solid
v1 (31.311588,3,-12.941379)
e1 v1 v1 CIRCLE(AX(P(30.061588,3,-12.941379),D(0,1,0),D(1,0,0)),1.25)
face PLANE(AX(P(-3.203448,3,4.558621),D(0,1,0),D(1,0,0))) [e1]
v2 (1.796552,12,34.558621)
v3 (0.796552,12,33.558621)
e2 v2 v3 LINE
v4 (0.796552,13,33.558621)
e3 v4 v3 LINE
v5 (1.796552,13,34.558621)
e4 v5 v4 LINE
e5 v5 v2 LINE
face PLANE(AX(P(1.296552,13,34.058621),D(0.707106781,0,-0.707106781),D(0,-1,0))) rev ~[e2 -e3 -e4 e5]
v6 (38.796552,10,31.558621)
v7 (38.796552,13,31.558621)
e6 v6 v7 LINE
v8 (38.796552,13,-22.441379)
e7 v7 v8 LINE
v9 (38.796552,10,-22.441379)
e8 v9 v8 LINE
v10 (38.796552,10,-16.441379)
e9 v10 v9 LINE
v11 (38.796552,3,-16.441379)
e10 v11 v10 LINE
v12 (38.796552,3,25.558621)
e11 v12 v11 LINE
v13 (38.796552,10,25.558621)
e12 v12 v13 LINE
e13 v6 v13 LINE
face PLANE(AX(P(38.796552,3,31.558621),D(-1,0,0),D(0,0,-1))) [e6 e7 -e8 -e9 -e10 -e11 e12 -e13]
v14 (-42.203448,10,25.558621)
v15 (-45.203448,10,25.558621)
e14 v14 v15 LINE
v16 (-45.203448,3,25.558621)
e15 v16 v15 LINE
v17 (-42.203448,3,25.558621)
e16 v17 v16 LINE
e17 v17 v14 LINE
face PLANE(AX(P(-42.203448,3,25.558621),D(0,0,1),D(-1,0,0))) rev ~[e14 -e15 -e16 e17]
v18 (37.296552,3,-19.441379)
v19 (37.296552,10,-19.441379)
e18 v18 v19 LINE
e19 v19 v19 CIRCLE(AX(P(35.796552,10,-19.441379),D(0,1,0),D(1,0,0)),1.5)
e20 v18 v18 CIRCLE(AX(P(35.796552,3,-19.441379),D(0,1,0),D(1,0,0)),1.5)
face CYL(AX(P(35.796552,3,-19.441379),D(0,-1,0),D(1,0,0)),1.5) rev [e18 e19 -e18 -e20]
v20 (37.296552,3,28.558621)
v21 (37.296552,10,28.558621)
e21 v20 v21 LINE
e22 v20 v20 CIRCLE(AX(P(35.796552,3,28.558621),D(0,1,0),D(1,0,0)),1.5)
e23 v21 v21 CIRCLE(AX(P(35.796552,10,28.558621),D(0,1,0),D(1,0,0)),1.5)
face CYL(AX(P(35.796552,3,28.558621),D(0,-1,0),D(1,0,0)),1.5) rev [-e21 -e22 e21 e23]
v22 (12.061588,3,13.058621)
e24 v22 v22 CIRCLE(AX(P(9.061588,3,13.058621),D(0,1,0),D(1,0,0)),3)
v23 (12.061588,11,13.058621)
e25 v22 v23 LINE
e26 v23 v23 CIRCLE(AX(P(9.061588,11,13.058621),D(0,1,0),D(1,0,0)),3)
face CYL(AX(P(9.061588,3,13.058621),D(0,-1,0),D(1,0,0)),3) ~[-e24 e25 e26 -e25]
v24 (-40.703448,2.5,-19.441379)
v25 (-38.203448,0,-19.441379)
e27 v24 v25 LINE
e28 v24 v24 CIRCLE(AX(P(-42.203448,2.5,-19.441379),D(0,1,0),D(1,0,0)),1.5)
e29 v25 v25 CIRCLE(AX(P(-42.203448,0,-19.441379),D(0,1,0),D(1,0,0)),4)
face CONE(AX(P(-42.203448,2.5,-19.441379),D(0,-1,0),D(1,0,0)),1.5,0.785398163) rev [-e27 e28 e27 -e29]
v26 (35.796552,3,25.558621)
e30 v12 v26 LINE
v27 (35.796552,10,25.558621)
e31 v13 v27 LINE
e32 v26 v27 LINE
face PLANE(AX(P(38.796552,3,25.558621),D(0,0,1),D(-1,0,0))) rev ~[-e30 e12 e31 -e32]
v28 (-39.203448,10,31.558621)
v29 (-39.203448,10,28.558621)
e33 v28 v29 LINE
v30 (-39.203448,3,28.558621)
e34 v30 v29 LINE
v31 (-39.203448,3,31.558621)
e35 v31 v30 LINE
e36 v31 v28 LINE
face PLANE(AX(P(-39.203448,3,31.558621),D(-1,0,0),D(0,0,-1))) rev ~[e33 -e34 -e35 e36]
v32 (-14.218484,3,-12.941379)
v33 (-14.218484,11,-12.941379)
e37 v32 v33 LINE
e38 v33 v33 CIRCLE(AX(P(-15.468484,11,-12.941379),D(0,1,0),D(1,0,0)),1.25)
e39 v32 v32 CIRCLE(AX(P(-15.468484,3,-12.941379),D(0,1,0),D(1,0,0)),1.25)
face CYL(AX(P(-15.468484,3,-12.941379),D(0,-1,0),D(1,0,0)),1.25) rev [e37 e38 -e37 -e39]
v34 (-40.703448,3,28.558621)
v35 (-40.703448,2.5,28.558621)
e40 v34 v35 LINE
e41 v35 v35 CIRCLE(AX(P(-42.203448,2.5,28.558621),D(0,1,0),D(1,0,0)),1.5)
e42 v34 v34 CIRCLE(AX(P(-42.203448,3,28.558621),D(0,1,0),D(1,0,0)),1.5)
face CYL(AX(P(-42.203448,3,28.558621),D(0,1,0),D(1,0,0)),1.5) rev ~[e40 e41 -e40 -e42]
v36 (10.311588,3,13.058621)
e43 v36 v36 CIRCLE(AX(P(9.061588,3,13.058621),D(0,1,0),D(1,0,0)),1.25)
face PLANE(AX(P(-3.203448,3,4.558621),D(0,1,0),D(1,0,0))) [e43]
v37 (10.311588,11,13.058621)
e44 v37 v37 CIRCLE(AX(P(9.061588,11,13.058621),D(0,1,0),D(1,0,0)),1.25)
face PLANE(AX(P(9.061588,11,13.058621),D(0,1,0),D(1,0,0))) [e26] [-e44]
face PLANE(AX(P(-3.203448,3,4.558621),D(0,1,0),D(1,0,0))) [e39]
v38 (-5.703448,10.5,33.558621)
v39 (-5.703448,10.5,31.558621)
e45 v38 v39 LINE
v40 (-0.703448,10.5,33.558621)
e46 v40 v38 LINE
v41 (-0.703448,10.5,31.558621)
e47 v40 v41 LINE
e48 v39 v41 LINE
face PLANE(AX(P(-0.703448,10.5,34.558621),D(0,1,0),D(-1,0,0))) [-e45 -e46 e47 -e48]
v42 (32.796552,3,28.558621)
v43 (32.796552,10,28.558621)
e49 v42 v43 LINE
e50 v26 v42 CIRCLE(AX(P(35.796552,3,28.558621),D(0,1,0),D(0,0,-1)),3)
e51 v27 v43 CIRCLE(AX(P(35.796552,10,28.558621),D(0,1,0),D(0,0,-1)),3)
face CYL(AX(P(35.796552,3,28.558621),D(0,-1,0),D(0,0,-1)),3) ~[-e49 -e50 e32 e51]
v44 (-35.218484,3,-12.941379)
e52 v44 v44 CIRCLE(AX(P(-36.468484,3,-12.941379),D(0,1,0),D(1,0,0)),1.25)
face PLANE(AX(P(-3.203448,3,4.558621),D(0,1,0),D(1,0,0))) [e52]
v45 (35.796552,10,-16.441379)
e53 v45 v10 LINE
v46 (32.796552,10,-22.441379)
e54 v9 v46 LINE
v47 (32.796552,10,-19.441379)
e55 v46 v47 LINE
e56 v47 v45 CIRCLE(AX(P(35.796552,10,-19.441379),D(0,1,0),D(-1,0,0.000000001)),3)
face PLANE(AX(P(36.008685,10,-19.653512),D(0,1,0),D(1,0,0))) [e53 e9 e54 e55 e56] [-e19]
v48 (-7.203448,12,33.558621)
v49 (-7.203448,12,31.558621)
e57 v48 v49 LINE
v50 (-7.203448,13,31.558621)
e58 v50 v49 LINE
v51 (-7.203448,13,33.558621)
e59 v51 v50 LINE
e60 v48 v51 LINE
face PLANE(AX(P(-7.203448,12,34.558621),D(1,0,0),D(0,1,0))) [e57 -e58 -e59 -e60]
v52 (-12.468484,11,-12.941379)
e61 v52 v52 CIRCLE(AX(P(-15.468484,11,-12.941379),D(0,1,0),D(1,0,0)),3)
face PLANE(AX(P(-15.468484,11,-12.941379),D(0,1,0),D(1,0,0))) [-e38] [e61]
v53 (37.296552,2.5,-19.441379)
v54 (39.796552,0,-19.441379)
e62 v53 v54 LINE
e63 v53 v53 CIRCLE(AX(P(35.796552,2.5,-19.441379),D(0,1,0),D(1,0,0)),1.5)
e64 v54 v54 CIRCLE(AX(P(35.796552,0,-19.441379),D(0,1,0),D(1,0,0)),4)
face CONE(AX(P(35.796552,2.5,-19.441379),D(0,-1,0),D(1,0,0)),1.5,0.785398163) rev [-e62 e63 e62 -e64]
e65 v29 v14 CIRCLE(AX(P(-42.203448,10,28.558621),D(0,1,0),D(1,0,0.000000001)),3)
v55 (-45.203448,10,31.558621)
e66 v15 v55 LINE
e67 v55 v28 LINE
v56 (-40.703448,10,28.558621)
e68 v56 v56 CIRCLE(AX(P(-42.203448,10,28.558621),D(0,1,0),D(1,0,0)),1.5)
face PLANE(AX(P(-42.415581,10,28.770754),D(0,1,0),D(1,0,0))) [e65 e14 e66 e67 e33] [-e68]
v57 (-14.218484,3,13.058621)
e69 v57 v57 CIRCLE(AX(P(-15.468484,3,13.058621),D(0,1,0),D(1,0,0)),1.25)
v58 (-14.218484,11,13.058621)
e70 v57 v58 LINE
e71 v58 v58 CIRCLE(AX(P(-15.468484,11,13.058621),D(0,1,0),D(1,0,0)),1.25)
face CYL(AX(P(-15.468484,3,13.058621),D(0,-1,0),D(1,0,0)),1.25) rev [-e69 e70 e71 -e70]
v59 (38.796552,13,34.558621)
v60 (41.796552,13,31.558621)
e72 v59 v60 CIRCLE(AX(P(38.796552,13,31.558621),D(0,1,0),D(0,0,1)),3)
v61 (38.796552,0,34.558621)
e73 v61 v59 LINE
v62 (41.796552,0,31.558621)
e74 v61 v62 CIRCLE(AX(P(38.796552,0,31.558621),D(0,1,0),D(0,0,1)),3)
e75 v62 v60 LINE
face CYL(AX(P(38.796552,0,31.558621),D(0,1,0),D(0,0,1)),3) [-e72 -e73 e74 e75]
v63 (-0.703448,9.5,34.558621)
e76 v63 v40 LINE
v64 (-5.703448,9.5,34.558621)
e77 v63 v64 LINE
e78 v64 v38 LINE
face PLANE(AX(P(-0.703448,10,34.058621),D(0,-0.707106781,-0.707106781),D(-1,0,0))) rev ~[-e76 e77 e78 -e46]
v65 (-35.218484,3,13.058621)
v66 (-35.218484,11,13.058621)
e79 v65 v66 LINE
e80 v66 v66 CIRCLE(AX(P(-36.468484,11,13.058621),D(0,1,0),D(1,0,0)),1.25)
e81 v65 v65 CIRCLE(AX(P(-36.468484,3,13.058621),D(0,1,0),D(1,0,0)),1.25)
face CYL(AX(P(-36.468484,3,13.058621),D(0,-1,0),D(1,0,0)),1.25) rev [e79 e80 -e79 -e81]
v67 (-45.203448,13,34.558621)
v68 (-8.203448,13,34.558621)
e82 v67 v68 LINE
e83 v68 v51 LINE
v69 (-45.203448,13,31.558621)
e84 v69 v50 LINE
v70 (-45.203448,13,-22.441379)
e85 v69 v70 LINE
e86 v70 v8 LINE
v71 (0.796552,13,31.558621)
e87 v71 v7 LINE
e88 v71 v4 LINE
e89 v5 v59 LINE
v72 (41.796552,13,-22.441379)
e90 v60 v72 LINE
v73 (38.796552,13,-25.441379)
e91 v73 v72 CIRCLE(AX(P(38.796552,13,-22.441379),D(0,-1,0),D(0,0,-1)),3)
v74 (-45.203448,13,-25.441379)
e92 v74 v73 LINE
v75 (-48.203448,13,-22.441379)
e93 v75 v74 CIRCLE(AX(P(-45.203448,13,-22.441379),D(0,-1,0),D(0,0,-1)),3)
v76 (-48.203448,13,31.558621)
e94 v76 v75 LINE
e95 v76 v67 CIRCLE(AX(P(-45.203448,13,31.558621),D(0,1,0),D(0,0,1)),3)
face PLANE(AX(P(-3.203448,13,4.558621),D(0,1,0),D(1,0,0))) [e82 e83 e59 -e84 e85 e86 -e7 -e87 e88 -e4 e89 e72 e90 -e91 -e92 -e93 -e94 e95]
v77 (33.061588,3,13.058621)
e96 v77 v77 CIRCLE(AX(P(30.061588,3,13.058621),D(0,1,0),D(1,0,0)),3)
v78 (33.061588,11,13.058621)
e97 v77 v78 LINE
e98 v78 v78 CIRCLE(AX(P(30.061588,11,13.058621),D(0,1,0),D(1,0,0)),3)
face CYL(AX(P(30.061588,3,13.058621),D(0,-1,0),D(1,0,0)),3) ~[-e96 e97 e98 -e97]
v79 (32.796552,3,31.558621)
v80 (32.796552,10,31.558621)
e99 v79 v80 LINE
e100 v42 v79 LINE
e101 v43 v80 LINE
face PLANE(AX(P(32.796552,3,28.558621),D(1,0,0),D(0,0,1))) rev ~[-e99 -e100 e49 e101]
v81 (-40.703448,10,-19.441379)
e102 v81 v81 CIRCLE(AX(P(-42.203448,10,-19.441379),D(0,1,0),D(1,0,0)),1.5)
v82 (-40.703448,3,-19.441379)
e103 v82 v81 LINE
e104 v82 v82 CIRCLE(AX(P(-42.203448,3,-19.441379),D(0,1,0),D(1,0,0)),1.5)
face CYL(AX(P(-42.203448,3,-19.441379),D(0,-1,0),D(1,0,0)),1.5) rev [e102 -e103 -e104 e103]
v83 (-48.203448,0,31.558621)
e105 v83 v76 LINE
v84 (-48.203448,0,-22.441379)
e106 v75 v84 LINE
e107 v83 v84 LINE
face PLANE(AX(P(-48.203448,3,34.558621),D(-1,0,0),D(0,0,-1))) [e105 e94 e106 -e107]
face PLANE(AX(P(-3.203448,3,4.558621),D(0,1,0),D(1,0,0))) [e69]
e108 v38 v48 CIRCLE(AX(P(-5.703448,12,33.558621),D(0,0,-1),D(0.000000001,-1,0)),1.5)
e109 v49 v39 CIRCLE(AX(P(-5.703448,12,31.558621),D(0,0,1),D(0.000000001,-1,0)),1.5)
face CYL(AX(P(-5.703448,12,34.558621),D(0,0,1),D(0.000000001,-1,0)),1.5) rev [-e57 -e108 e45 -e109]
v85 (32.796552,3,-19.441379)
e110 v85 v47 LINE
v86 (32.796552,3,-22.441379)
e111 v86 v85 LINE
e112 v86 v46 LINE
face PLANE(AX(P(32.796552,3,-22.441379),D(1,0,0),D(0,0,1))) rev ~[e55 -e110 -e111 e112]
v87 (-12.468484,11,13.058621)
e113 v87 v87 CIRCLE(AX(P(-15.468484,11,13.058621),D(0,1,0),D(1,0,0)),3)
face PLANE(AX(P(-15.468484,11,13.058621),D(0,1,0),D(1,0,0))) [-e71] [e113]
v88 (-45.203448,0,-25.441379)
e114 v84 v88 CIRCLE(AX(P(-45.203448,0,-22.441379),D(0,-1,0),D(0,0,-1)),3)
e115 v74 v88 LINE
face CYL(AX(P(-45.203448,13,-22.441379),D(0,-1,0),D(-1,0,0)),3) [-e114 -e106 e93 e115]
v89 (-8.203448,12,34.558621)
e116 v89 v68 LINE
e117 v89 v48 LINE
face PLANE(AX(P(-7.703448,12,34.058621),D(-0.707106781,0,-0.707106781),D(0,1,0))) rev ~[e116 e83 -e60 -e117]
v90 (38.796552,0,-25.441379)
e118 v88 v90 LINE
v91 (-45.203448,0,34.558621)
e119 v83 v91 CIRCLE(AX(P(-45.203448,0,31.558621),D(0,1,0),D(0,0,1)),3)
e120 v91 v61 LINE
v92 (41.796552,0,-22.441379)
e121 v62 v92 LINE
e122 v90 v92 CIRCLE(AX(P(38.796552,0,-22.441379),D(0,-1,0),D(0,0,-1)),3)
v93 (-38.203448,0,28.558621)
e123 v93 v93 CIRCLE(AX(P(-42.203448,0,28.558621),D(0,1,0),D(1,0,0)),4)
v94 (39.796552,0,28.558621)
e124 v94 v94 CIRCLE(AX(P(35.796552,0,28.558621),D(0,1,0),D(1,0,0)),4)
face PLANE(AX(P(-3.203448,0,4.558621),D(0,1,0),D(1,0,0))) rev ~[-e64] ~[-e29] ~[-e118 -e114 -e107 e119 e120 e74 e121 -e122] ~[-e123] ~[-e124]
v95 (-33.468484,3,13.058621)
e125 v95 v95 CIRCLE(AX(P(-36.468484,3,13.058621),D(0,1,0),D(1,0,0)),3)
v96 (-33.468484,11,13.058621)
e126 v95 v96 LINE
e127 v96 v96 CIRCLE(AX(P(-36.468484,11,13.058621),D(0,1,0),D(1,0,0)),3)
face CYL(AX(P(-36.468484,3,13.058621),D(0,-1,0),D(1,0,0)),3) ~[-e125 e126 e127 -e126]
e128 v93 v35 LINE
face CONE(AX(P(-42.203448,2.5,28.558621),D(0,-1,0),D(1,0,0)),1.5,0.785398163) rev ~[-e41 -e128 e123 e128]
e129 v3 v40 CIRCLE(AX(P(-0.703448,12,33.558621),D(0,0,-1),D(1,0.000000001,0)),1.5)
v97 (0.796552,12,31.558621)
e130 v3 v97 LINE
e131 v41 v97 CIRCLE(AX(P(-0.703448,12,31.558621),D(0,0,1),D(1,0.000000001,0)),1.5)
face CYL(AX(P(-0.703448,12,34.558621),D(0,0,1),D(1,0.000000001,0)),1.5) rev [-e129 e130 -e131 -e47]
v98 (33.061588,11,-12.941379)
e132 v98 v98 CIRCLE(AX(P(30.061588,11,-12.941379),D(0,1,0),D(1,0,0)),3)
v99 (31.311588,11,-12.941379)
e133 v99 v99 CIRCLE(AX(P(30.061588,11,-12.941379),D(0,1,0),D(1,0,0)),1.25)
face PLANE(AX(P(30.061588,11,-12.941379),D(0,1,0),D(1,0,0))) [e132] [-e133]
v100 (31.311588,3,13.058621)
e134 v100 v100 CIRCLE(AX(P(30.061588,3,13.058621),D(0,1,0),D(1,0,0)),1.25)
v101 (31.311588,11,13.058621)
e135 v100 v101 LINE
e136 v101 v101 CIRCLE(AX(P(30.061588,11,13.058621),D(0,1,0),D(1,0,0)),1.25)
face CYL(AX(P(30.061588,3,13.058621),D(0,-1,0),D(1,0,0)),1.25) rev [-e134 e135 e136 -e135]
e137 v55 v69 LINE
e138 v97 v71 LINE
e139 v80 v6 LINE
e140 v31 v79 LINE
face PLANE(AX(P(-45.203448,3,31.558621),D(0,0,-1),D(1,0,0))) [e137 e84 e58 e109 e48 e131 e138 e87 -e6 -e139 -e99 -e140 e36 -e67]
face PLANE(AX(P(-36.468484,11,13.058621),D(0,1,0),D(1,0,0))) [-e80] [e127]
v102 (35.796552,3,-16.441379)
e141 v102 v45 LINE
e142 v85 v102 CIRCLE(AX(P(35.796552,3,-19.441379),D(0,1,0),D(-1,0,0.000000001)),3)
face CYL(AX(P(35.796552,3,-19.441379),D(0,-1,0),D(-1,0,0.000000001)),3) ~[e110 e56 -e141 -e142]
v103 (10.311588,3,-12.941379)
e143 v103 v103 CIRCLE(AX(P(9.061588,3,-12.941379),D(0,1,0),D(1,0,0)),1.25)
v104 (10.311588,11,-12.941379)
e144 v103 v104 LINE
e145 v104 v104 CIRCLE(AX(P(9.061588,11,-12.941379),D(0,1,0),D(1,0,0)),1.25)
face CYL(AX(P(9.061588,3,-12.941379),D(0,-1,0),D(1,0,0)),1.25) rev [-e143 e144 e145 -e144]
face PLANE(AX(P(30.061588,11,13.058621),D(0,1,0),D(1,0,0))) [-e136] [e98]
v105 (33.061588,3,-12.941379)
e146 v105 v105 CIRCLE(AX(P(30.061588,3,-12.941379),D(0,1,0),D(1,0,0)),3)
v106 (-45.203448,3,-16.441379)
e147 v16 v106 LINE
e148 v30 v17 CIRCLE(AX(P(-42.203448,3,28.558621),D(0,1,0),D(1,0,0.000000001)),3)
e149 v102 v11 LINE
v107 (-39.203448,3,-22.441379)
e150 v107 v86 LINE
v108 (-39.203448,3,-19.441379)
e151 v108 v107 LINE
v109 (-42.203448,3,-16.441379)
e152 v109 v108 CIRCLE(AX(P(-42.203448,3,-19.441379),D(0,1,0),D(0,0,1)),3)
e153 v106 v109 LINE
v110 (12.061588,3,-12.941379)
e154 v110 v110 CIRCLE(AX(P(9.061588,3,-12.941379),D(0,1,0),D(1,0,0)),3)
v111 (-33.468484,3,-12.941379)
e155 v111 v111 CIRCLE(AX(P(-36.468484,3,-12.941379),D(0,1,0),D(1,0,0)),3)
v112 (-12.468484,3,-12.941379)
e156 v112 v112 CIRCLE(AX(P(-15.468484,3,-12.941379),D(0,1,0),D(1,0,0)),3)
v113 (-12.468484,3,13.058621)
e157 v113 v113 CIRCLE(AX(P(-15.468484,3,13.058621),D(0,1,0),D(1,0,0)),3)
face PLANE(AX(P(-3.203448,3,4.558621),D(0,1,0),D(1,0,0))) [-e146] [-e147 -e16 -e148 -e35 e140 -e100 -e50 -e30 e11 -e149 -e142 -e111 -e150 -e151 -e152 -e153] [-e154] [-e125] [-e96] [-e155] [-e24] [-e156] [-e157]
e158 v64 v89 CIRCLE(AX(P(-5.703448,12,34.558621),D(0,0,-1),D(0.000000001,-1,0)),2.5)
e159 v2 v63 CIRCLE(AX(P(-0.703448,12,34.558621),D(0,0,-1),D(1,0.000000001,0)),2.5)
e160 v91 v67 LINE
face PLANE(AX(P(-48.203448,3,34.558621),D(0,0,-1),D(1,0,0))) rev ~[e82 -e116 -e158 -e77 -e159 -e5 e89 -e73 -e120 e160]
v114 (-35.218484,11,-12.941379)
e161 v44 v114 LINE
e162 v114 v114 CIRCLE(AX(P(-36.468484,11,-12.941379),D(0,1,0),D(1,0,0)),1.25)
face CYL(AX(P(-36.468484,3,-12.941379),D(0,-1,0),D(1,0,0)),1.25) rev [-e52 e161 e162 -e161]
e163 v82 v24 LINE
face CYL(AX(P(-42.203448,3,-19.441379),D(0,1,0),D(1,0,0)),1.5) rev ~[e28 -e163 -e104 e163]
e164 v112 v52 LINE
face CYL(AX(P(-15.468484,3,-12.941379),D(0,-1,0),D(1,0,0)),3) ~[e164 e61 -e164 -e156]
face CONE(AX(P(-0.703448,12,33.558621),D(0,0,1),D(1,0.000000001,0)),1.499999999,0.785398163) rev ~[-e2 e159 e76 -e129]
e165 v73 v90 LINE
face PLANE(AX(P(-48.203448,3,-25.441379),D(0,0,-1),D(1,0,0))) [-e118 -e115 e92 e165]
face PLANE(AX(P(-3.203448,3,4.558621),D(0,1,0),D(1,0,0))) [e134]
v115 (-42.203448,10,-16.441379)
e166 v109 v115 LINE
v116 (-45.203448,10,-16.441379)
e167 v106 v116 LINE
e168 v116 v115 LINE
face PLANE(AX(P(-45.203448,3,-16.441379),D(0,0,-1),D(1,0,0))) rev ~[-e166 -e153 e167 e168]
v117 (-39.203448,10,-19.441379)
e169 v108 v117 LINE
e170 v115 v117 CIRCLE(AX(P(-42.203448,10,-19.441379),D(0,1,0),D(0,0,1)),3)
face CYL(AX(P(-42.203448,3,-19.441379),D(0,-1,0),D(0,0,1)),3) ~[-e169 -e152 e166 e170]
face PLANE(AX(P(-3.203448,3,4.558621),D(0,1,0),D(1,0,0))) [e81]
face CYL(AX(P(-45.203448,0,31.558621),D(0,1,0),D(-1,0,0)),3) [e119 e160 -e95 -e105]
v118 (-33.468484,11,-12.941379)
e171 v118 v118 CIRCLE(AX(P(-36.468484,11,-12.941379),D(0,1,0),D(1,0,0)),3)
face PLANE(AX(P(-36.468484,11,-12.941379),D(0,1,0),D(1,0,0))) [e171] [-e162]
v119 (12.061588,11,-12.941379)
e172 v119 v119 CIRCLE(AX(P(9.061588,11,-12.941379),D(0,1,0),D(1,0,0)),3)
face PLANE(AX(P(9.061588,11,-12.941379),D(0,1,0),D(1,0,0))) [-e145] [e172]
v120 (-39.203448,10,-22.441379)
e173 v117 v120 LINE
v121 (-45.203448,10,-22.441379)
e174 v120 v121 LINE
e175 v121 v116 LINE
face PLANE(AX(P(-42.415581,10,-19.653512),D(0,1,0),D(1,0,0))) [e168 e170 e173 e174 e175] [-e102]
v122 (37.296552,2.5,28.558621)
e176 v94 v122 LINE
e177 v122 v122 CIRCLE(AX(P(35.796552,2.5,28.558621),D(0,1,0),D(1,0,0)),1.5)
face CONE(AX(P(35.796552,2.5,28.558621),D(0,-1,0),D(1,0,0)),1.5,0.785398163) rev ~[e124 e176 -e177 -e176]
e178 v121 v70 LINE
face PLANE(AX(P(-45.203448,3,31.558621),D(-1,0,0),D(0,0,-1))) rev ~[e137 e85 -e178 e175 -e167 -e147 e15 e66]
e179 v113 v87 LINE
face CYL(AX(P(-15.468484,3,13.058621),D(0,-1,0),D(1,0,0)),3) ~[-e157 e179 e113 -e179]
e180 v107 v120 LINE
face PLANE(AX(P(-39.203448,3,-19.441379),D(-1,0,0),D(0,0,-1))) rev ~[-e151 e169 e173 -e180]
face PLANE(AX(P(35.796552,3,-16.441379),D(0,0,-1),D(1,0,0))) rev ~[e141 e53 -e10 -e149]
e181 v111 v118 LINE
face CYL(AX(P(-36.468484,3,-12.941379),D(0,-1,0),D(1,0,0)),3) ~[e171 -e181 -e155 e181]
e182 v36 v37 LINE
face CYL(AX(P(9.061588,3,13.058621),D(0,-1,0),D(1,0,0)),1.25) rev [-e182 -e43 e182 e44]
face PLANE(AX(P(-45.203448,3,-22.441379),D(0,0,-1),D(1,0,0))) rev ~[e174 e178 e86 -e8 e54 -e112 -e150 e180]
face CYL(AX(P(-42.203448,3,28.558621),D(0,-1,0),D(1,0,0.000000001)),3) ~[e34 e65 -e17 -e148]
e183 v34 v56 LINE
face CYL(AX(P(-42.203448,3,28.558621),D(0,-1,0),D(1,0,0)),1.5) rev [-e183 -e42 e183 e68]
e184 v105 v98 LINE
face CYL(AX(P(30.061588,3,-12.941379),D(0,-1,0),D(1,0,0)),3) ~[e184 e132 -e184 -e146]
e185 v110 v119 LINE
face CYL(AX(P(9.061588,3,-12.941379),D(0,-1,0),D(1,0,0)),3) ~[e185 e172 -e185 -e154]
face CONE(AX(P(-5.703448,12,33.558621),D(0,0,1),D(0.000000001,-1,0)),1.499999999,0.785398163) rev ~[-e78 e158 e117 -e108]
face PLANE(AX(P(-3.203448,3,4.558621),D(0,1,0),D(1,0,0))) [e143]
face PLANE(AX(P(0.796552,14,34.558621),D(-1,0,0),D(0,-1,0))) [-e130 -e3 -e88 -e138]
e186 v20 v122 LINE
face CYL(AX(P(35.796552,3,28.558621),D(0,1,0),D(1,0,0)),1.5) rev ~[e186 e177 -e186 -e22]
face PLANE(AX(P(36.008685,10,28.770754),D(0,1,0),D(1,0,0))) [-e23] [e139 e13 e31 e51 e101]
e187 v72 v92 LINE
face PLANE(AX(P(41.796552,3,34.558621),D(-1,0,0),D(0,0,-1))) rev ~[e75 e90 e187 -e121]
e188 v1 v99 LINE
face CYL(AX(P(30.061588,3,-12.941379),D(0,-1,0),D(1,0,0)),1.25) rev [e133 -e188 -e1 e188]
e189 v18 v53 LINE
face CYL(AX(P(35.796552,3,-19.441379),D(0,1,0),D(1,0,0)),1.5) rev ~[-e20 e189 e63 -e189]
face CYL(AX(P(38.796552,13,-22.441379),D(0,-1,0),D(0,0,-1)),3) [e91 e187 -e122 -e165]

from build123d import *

# Parameters (mm, degrees)
SKETCH_2_W               = 90
SKETCH_2_H               = 60
EXTRUDE_1_DEPTH          = 3
SKETCH_4_R               = 3
SKETCH_4_R_2             = 1.25
EXTRUDE_2_DEPTH          = 8
SKETCH_5_W               = 90
SKETCH_5_H               = 60
SKETCH_5_W_2             = 84
SKETCH_5_H_2             = 54
EXTRUDE_3_DEPTH          = 10
SKETCH_7_R               = 1.5
EXTRUDE_4_DEPTH          = 7
SKETCH_8_R               = 1.5
CUT_EXTRUDE_1_DEPTH      = 7
CUT_EXTRUDE_1_DEPTH_BACK = 7
CHAMFER_1_SIZE           = 2.5
FILLET_1_R               = 3
CUT_EXTRUDE_2_DEPTH      = 9
CHAMFER_2_SIZE           = 1


with BuildPart() as part:
    # Эскиз2 → Бобышка-Вытянуть1 (new body)
    with BuildSketch(Plane(origin=(0, 0, 0), x_dir=(1, 0, 0), z_dir=(0, 1, 0))):
        with Locations((-3.203448276, -4.55862069)):
            Rectangle(SKETCH_2_W, SKETCH_2_H)
    extrude(amount=EXTRUDE_1_DEPTH)

    # Эскиз4 → Бобышка-Вытянуть2 (add)
    with BuildSketch(Plane(origin=(0, 3, 0), x_dir=(1, 0, 0), z_dir=(0, 1, 0))):
        with Locations((-36.468484305, 12.94137931)):
            Circle(SKETCH_4_R)
        with Locations((-36.468484305, 12.94137931)):
            Circle(SKETCH_4_R_2, mode=Mode.SUBTRACT)
        with Locations((-15.468484305, 12.94137931)):
            Circle(SKETCH_4_R)
        with Locations((-15.468484305, 12.94137931)):
            Circle(SKETCH_4_R_2, mode=Mode.SUBTRACT)
        with Locations((-15.468484305, -13.05862069)):
            Circle(SKETCH_4_R)
        with Locations((-15.468484305, -13.05862069)):
            Circle(SKETCH_4_R_2, mode=Mode.SUBTRACT)
        with Locations((-36.468484305, -13.05862069)):
            Circle(SKETCH_4_R)
        with Locations((-36.468484305, -13.05862069)):
            Circle(SKETCH_4_R_2, mode=Mode.SUBTRACT)
        with Locations((9.061587753, -13.05862069)):
            Circle(SKETCH_4_R)
        with Locations((9.061587753, -13.05862069)):
            Circle(SKETCH_4_R_2, mode=Mode.SUBTRACT)
        with Locations((30.061587753, -13.05862069)):
            Circle(SKETCH_4_R)
        with Locations((30.061587753, -13.05862069)):
            Circle(SKETCH_4_R_2, mode=Mode.SUBTRACT)
        with Locations((9.061587753, 12.94137931)):
            Circle(SKETCH_4_R)
        with Locations((9.061587753, 12.94137931)):
            Circle(SKETCH_4_R_2, mode=Mode.SUBTRACT)
        with Locations((30.061587753, 12.94137931)):
            Circle(SKETCH_4_R)
        with Locations((30.061587753, 12.94137931)):
            Circle(SKETCH_4_R_2, mode=Mode.SUBTRACT)
    extrude(amount=EXTRUDE_2_DEPTH)

    # Эскиз5 → Бобышка-Вытянуть3 (add)
    with BuildSketch(Plane(origin=(0, 3, 0), x_dir=(1, 0, 0), z_dir=(0, 1, 0))):
        with Locations((-3.203448276, -4.55862069)):
            Rectangle(SKETCH_5_W, SKETCH_5_H)
        with Locations((-3.203448276, -4.55862069)):
            Rectangle(SKETCH_5_W_2, SKETCH_5_H_2, mode=Mode.SUBTRACT)
    extrude(amount=EXTRUDE_3_DEPTH)

    # Эскиз7 → Бобышка-Вытянуть4 (add)
    with BuildSketch(Plane(origin=(0, 3, 0), x_dir=(1, 0, 0), z_dir=(0, 1, 0))):
        with BuildLine():
            Line((-39.203448276, 19.44137931), (-39.203448276, 22.44137931))
            Line((-39.203448276, 22.44137931), (-45.203448276, 22.44137931))
            Line((-45.203448276, 22.44137931), (-45.203448276, 16.44137931))
            Line((-45.203448276, 16.44137931), (-42.203448276, 16.44137931))
            ThreePointArc((-42.203448276, 16.44137931), (-40.082127932, 17.320058967), (-39.203448276, 19.44137931))
        make_face()
        with Locations((-42.203448276, 19.44137931)):
            Circle(SKETCH_7_R, mode=Mode.SUBTRACT)
        with BuildLine():
            Line((38.796551724, 22.44137931), (32.796551724, 22.44137931))
            Line((32.796551724, 22.44137931), (32.796551724, 19.44137931))
            ThreePointArc((32.796551724, 19.44137931), (33.675231381, 17.320058967), (35.796551724, 16.44137931))
            Line((35.796551724, 16.44137931), (38.796551724, 16.44137931))
            Line((38.796551724, 16.44137931), (38.796551724, 22.44137931))
        make_face()
        with Locations((35.796551724, 19.44137931)):
            Circle(SKETCH_7_R, mode=Mode.SUBTRACT)
        with BuildLine():
            Line((32.796551724, -28.55862069), (32.796551724, -31.55862069))
            Line((32.796551724, -31.55862069), (38.796551724, -31.55862069))
            Line((38.796551724, -31.55862069), (38.796551724, -25.55862069))
            Line((38.796551724, -25.55862069), (35.796551724, -25.55862069))
            ThreePointArc((35.796551724, -25.55862069), (33.675231381, -26.437300346), (32.796551724, -28.55862069))
        make_face()
        with Locations((35.796551724, -28.55862069)):
            Circle(SKETCH_7_R, mode=Mode.SUBTRACT)
        with BuildLine():
            Line((-45.203448276, -31.55862069), (-39.203448276, -31.55862069))
            Line((-39.203448276, -31.55862069), (-39.203448276, -28.55862069))
            ThreePointArc((-39.203448276, -28.55862069), (-40.082127932, -26.437300346), (-42.203448276, -25.55862069))
            Line((-42.203448276, -25.55862069), (-45.203448276, -25.55862069))
            Line((-45.203448276, -25.55862069), (-45.203448276, -31.55862069))
        make_face()
        with Locations((-42.203448276, -28.55862069)):
            Circle(SKETCH_7_R, mode=Mode.SUBTRACT)
    extrude(amount=EXTRUDE_4_DEPTH)

    # Эскиз8 → Вырез-Вытянуть1 (cut, two sides)
    with BuildSketch(Plane(origin=(0, 3, 0), x_dir=(1, 0, 0), z_dir=(0, 1, 0))) as cut_extrude_1_sk:
        with Locations((-42.203448276, 19.44137931)):
            Circle(SKETCH_8_R)
        with Locations((35.796551724, 19.44137931)):
            Circle(SKETCH_8_R)
        with Locations((35.796551724, -28.55862069)):
            Circle(SKETCH_8_R)
        with Locations((-42.203448276, -28.55862069)):
            Circle(SKETCH_8_R)
    extrude(amount=CUT_EXTRUDE_1_DEPTH, mode=Mode.SUBTRACT)
    extrude(cut_extrude_1_sk.sketch, amount=-CUT_EXTRUDE_1_DEPTH_BACK, mode=Mode.SUBTRACT)

    # Фаска1
    chamfer_1_edges = [part.edges().sort_by_distance(p)[0] for p in [
        (34.296551724, 0, 28.55862069),
        (-43.703448276, 0, -19.44137931),
        (-43.703448276, 0, 28.55862069),
        (34.296551724, 0, -19.44137931),
    ]]
    chamfer(chamfer_1_edges, length=CHAMFER_1_SIZE)

    # Скругление1
    fillet_1_edges = [part.edges().sort_by_distance(p)[0] for p in [
        (-48.203448276, 6.5, -25.44137931),
        (41.796551724, 6.5, -25.44137931),
        (41.796551724, 6.5, 34.55862069),
        (-48.203448276, 6.5, 34.55862069),
    ]]
    fillet(fillet_1_edges, radius=FILLET_1_R)

    # Эскиз9 → Вырез-Вытянуть2 (cut)
    with BuildSketch(Plane.XY.offset(34.55862069)):
        with BuildLine():
            Line((-5.703448276, 15.5), (-0.703448276, 15.5))
            ThreePointArc((-0.703448276, 15.5), (0.357211896, 15.060660172), (0.796551724, 14))
            Line((0.796551724, 14), (0.796551724, 12))
            ThreePointArc((0.796551724, 12), (0.357211896, 10.939339828), (-0.703448276, 10.5))
            Line((-0.703448276, 10.5), (-5.703448276, 10.5))
            ThreePointArc((-5.703448276, 10.5), (-6.764108448, 10.939339828), (-7.203448276, 12))
            Line((-7.203448276, 12), (-7.203448276, 14))
            ThreePointArc((-7.203448276, 14), (-6.764108448, 15.060660172), (-5.703448276, 15.5))
        make_face()
    extrude(amount=-CUT_EXTRUDE_2_DEPTH, mode=Mode.SUBTRACT)

    # Фаска2
    chamfer_2_edges = [part.edges().sort_by_distance(p)[0] for p in [
        (-7.203448276, 12.5, 34.55862069),
        (-6.764108448, 10.939339828, 34.55862069),
        (-3.203448276, 10.5, 34.55862069),
        (0.357211896, 10.939339828, 34.55862069),
        (0.796551724, 12.5, 34.55862069),
    ]]
    chamfer(chamfer_2_edges, length=CHAMFER_2_SIZE)


solid = part.part
